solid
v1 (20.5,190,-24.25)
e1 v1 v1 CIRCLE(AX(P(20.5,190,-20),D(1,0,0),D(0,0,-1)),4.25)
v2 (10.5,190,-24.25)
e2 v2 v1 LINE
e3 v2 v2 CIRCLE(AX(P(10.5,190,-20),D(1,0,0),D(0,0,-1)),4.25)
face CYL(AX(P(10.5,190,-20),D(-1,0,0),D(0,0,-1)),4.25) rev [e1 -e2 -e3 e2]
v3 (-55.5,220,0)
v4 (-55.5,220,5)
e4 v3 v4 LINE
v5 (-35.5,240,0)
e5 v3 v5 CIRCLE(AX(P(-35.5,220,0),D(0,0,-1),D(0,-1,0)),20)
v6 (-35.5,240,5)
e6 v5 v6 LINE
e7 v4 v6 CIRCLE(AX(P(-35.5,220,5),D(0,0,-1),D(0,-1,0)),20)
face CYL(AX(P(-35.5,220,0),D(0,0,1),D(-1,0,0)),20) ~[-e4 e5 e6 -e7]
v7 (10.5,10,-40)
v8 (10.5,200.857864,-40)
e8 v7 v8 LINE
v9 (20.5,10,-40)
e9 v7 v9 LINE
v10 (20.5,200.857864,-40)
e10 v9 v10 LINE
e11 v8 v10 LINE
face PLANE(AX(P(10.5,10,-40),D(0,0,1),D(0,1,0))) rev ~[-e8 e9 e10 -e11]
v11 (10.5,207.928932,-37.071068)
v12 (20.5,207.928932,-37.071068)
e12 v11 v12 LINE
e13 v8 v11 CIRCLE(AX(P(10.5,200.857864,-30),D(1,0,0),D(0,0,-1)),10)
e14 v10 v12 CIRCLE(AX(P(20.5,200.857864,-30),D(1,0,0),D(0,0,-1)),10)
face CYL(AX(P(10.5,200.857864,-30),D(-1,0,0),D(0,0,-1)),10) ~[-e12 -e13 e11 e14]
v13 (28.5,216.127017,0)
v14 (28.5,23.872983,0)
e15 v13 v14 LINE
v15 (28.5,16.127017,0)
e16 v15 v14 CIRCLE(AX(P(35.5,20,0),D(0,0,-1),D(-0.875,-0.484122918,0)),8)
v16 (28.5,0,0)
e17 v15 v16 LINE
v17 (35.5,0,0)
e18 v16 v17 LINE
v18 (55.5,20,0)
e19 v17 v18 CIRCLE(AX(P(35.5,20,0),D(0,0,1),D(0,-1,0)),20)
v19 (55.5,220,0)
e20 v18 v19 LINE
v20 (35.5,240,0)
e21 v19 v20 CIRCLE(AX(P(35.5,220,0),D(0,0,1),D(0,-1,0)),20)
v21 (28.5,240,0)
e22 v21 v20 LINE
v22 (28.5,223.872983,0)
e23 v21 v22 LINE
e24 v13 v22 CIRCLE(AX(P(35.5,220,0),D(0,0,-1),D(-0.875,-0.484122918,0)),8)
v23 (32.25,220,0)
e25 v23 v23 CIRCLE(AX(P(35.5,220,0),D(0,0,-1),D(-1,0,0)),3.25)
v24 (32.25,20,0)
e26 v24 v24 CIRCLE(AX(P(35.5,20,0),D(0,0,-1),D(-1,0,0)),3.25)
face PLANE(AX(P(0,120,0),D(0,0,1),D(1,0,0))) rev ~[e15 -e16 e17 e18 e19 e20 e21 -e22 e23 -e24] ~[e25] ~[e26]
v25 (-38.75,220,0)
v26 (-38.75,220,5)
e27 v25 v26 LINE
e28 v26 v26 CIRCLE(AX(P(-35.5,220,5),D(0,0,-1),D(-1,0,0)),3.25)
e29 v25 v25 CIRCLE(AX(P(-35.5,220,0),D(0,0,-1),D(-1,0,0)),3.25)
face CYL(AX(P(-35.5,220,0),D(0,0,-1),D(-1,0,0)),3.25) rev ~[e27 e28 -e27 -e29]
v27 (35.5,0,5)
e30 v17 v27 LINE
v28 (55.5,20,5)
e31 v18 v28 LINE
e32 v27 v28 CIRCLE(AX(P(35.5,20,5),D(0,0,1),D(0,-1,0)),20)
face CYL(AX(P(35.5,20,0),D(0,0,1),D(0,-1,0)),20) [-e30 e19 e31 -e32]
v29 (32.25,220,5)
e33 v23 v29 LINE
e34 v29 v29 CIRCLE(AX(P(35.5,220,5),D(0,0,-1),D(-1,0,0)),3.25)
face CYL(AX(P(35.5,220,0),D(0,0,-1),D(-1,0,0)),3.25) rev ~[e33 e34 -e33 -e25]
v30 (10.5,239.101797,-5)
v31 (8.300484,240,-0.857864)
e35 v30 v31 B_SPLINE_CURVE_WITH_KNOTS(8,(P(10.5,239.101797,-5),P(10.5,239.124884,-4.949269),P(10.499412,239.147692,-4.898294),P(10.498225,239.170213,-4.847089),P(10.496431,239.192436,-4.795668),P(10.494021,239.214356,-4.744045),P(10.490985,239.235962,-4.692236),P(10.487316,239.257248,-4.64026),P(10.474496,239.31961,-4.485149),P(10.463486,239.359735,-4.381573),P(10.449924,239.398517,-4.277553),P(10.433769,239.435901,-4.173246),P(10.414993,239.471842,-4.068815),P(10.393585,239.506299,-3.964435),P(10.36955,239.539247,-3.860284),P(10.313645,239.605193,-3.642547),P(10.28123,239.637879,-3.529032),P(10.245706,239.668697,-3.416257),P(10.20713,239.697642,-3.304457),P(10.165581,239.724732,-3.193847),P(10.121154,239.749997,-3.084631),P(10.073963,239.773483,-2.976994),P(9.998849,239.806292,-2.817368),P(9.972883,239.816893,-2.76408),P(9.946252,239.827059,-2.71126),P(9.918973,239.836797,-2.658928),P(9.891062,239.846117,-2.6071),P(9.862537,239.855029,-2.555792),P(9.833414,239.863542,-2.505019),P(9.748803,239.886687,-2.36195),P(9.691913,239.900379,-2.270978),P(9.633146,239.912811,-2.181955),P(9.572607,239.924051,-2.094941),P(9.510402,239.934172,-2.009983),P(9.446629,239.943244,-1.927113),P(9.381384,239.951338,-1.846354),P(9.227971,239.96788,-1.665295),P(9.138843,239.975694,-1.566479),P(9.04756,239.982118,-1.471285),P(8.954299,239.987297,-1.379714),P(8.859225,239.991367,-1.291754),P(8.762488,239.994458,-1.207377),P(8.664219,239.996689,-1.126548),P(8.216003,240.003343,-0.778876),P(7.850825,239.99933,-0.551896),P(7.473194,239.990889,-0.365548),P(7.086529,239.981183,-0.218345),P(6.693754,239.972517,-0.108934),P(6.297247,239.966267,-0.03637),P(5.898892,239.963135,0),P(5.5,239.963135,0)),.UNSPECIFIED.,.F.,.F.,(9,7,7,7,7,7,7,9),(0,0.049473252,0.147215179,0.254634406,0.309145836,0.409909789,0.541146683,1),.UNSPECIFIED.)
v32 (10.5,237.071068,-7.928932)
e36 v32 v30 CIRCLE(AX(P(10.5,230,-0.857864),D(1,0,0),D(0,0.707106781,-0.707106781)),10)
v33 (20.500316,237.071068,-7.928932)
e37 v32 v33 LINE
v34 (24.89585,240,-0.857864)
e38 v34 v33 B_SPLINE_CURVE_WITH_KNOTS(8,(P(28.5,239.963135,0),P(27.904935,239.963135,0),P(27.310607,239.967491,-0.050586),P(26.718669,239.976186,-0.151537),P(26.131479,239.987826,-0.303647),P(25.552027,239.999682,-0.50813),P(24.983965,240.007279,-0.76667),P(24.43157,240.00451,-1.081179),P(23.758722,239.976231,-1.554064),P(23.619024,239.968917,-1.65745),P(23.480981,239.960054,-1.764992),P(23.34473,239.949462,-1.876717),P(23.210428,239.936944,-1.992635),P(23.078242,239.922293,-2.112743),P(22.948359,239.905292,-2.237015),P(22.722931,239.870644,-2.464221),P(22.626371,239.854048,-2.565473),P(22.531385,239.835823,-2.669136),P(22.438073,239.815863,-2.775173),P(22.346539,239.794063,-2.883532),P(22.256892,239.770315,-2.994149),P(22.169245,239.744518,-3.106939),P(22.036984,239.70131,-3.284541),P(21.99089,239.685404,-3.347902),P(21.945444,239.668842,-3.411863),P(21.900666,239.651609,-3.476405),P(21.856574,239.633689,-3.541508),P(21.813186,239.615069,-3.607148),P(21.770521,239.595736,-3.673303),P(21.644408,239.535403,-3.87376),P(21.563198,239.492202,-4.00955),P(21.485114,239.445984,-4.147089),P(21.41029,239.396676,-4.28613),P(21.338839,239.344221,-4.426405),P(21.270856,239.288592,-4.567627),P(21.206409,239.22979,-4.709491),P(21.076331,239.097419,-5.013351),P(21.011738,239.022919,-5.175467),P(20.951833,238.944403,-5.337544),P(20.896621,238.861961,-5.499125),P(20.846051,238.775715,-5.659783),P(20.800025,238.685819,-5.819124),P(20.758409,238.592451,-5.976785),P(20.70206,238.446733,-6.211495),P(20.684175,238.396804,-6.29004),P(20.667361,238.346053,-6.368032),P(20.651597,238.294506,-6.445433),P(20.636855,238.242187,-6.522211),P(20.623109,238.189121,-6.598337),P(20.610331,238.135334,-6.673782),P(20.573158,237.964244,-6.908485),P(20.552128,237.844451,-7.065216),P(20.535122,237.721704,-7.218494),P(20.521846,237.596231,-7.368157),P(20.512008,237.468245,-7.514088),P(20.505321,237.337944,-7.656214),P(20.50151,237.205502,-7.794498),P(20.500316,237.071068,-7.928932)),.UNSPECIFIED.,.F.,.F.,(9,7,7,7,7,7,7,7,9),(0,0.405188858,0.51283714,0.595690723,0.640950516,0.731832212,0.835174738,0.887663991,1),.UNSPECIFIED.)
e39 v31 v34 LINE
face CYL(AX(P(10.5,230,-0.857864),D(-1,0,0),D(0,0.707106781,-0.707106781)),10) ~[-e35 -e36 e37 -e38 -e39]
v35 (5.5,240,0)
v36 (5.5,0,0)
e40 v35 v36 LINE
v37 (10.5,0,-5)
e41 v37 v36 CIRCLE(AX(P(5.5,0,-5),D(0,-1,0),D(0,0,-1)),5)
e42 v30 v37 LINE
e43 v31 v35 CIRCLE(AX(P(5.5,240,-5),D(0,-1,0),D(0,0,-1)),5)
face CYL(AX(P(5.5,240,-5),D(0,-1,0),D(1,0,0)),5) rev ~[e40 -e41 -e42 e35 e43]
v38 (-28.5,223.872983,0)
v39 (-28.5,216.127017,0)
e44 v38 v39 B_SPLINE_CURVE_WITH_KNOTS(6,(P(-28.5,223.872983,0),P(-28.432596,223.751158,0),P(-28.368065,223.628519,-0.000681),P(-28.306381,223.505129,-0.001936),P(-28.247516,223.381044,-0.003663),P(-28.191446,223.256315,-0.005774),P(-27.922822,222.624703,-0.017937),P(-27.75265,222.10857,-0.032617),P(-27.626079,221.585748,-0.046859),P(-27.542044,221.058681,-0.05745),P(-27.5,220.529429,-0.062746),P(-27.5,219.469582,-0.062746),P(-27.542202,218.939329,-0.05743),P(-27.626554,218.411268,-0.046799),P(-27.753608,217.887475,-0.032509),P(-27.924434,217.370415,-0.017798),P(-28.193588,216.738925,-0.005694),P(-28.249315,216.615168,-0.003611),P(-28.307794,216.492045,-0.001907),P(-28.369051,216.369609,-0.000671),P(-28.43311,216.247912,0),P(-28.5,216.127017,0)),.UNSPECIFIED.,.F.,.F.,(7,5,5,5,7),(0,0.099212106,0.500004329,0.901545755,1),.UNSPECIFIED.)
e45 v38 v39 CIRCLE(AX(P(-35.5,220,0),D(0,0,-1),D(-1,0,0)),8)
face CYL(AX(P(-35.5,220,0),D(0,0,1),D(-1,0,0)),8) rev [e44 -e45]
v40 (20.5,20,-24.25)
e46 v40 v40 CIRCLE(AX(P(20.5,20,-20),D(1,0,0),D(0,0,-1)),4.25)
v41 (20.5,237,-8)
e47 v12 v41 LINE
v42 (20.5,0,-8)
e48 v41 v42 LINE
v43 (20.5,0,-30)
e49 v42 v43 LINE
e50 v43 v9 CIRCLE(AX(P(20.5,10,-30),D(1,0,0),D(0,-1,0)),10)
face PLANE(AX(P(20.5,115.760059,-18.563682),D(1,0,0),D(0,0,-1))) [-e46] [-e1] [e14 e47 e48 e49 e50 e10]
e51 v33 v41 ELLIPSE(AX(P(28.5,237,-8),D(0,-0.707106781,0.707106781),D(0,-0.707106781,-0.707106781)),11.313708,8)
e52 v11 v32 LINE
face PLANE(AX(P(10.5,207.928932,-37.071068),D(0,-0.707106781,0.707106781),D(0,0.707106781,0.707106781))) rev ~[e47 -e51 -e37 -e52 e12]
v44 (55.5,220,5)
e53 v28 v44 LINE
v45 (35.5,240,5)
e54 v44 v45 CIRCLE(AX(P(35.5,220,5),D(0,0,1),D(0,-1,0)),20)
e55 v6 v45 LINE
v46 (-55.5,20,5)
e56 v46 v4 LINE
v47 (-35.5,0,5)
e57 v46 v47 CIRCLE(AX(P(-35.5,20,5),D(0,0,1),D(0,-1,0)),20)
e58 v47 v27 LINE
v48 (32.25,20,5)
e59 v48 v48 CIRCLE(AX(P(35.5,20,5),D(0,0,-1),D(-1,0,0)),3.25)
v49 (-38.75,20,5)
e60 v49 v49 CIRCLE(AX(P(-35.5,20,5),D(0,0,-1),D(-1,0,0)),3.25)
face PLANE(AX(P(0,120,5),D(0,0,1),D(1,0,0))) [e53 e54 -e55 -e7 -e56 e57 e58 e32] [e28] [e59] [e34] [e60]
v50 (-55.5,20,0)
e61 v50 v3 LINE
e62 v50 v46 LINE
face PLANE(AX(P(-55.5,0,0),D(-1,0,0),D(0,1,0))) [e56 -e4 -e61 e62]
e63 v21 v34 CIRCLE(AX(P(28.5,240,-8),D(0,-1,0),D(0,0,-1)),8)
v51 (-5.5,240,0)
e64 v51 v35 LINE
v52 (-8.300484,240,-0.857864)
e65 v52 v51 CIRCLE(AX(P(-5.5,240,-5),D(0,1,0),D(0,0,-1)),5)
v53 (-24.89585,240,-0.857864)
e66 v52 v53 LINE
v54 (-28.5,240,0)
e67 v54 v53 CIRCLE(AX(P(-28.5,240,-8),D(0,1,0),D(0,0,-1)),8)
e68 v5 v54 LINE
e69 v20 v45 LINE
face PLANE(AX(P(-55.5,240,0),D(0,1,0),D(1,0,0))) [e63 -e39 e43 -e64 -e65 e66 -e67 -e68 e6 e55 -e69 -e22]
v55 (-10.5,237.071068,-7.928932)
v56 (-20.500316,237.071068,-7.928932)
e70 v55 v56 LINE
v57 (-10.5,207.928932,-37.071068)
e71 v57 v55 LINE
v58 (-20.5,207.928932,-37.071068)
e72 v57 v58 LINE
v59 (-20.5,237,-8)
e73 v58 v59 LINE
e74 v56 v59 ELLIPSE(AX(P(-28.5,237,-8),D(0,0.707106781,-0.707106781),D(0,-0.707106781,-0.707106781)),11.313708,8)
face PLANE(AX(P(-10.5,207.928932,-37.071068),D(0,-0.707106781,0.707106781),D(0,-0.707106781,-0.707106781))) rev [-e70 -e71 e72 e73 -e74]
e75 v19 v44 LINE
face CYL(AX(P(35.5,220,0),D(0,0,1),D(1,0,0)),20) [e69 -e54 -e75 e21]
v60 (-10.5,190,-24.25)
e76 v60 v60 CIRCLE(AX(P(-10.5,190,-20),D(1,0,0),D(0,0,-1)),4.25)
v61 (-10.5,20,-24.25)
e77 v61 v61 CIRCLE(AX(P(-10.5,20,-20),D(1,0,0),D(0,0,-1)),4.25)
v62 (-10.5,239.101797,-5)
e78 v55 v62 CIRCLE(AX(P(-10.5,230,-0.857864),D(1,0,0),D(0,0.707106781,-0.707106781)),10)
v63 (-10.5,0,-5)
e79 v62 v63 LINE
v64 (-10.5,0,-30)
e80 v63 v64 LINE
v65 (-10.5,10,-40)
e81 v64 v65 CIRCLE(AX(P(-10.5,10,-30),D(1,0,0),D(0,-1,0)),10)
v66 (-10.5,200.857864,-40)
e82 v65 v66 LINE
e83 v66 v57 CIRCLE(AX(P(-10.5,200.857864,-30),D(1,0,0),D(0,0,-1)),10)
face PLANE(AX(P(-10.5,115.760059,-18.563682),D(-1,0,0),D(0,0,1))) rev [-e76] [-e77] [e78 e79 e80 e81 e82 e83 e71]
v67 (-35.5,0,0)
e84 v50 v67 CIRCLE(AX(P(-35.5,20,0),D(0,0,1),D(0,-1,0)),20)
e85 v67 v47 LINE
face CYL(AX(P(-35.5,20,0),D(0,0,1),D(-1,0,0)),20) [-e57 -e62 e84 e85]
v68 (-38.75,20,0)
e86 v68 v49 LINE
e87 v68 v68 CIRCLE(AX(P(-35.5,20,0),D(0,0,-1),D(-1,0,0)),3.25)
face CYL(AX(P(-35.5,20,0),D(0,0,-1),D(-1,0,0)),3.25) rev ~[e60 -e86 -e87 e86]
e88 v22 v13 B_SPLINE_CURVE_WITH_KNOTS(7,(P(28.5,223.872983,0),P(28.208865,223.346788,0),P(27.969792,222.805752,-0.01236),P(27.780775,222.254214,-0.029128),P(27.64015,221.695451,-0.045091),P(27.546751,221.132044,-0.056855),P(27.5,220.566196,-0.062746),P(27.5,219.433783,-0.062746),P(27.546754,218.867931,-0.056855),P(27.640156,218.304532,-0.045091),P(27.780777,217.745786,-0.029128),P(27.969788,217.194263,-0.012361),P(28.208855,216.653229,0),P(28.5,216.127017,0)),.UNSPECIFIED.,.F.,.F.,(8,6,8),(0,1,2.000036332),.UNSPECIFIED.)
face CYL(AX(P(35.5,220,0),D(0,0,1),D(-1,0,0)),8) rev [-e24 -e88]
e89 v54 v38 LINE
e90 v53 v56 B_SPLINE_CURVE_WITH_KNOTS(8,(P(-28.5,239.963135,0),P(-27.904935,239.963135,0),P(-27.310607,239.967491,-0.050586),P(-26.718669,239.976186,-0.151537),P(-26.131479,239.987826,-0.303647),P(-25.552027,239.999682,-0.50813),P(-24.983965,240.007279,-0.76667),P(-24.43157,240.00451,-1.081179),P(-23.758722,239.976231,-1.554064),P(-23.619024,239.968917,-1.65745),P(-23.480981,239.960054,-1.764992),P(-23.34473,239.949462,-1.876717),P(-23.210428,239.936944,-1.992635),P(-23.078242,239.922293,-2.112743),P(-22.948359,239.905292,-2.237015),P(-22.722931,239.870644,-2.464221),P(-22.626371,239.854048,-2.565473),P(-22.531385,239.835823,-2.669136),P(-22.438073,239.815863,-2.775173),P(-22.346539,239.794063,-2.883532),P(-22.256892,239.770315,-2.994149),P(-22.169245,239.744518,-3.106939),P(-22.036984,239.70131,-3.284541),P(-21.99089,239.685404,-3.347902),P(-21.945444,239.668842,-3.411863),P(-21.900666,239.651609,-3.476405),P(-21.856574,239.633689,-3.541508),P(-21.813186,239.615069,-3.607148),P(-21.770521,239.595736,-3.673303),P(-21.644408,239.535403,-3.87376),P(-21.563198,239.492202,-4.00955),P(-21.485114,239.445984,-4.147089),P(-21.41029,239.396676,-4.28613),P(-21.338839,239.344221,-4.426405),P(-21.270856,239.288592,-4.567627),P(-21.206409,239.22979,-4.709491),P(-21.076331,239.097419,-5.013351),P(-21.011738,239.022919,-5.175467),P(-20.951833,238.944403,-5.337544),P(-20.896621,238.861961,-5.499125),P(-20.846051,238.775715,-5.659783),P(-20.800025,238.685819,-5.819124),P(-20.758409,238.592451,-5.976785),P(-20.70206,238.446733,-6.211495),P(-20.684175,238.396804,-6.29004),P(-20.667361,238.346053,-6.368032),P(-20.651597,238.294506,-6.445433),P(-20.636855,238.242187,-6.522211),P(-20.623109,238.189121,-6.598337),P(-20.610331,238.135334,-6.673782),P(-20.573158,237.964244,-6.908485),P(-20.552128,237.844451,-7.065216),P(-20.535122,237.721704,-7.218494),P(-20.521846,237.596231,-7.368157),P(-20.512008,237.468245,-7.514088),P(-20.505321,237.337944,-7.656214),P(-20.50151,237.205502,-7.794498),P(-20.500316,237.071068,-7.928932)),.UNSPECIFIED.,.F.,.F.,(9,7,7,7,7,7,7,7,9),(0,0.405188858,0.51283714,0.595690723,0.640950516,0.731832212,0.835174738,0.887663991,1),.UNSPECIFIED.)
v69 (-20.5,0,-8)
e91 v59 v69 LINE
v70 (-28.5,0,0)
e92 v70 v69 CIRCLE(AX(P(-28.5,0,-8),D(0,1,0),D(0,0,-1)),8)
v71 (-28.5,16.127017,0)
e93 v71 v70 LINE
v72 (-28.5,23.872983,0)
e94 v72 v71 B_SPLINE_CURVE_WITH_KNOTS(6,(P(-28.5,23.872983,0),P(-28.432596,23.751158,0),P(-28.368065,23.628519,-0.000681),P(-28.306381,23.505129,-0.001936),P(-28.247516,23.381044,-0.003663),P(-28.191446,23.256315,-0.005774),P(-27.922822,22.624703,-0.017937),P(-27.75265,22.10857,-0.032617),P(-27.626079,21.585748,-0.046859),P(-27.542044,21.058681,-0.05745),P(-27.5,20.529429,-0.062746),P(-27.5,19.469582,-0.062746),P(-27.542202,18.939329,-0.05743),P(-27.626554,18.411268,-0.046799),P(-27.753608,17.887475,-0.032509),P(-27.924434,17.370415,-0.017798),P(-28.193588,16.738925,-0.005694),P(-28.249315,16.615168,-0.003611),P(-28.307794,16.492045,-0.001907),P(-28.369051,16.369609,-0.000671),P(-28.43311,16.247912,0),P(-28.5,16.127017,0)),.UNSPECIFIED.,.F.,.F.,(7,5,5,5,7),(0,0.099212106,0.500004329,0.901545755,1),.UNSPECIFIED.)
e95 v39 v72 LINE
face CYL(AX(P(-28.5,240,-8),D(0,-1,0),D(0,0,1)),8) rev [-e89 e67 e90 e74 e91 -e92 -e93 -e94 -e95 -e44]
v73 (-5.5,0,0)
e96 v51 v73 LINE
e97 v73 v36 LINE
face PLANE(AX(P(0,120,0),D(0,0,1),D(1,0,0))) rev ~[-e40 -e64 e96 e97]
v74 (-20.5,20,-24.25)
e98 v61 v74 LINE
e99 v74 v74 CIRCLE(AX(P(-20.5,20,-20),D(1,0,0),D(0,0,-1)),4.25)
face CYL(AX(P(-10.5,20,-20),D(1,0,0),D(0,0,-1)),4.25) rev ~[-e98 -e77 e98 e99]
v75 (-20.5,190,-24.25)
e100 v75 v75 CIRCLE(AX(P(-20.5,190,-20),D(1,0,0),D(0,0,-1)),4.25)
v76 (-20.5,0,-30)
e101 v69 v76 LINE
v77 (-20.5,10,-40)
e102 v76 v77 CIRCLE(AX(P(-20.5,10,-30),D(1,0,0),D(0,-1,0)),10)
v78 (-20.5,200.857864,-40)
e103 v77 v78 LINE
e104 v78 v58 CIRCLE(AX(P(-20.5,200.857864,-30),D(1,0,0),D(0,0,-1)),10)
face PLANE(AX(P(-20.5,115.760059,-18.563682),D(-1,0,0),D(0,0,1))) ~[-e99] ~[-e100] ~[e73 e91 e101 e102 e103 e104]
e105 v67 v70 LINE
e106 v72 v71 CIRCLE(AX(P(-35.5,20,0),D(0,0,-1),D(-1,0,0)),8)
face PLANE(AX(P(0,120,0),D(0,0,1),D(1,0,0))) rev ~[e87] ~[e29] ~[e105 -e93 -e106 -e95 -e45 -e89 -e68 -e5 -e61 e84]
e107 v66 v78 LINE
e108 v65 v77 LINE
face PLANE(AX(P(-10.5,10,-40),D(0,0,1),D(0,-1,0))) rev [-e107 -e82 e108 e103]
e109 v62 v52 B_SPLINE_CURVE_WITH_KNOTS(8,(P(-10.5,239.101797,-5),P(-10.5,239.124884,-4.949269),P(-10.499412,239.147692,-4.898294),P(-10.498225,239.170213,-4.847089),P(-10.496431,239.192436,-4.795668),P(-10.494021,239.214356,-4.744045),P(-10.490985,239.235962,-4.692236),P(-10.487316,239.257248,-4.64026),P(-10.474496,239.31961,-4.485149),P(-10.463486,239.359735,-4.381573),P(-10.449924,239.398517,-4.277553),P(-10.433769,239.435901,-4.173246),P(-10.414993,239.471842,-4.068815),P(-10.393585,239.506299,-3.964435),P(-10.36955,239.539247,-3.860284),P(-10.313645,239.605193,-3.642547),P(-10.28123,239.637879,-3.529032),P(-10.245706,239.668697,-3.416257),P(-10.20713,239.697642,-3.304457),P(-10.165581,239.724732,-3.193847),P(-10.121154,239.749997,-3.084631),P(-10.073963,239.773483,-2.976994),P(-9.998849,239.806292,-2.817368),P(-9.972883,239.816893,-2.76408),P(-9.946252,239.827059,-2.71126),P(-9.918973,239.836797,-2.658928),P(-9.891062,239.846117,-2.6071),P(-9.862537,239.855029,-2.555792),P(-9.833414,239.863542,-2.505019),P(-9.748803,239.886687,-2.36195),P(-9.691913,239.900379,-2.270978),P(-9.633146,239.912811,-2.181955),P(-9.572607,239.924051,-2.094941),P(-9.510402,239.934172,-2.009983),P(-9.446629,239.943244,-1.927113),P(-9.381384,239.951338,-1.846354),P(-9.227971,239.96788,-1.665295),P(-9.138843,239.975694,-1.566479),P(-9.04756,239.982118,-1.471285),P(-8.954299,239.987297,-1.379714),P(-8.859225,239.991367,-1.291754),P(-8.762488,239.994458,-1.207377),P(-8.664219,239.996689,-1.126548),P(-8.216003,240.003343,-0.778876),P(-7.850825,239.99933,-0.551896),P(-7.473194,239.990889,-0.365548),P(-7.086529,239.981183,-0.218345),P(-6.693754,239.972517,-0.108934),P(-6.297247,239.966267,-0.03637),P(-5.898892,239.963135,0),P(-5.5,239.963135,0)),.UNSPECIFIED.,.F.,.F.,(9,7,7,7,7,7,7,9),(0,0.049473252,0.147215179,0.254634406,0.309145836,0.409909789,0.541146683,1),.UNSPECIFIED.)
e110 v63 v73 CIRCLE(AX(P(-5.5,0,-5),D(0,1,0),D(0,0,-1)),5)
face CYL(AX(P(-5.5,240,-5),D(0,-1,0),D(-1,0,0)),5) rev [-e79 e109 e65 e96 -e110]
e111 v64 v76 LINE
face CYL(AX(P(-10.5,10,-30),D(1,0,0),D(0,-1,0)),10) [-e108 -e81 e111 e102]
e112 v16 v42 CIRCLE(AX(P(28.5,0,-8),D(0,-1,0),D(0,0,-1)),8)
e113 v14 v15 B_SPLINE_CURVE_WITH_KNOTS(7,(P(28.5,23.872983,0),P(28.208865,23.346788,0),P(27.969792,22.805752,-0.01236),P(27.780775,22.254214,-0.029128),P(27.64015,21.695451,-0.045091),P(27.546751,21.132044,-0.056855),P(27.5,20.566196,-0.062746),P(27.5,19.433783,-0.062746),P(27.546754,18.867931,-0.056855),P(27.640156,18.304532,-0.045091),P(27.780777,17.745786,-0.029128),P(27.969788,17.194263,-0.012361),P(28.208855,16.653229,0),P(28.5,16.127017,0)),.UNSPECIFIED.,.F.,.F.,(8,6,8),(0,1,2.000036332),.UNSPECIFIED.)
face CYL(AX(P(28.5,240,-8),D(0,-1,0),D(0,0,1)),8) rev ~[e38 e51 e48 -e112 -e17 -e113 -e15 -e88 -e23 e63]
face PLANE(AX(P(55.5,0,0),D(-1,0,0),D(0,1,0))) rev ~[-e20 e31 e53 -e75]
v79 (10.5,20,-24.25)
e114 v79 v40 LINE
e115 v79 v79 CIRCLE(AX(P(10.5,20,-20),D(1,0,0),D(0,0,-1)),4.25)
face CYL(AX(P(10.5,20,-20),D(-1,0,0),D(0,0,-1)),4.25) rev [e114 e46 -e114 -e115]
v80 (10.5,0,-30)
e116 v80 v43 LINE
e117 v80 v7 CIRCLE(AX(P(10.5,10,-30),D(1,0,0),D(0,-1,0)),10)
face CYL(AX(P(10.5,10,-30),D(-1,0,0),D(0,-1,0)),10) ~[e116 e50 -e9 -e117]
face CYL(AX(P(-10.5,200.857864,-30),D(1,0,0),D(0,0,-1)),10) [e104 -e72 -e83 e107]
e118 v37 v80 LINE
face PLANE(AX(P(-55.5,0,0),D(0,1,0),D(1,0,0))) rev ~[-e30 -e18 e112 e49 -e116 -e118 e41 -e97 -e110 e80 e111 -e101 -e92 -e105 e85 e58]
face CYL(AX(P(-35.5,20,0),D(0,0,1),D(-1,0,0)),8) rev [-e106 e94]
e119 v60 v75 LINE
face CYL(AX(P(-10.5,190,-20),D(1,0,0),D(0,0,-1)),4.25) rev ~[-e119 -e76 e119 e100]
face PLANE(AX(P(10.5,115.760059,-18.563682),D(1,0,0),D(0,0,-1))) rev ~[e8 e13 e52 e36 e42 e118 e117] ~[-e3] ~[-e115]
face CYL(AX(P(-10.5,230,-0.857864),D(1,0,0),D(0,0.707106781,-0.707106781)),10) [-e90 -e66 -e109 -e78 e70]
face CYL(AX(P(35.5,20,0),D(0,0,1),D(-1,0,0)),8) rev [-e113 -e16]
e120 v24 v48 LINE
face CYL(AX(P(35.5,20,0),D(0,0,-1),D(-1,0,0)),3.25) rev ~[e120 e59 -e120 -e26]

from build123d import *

# Parameters (mm, degrees)
SKETCH1_W            = 111
SKETCH1_H            = 240
BOSS_EXTRUDE1_DEPTH  = 5
FILLET1_R            = 20
SKETCH2_R            = 4.25
BOSS_EXTRUDE2_DEPTH  = 10
FILLET2_R            = 8
FILLET3_R            = 5
FILLET2_OF_MIRROR1_R = 8
FILLET3_OF_MIRROR1_R = 5
SKETCH3_R            = 3.25
CUT_EXTRUDE1_DEPTH   = 250.560113109
SKETCH4_R            = 8
CUT_EXTRUDE2_DEPTH   = 250.560113109


with BuildPart() as part:
    # Sketch1 → Boss-Extrude1 (new body)
    with BuildSketch(Plane.XY):
        with Locations((0, 120)):
            Rectangle(SKETCH1_W, SKETCH1_H)
    extrude(amount=BOSS_EXTRUDE1_DEPTH)

    # Fillet1
    fillet1_edges = [part.edges().sort_by_distance(p)[0] for p in [
        (-55.5, 240, 2.5),
        (55.5, 240, 2.5),
        (55.5, 0, 2.5),
        (-55.5, 0, 2.5),
    ]]
    fillet(fillet1_edges, radius=FILLET1_R)

    # Sketch2 → Boss-Extrude2 (add)
    with BuildSketch(Plane(origin=(10.5, 0, 0), x_dir=(0, 0, -1), z_dir=(1, 0, 0))):
        with BuildLine():
            Line((0, 0), (30, 0))
            ThreePointArc((30, 0), (37.071067812, 2.928932188), (40, 10))
            Line((40, 10), (40, 200.857864376))
            ThreePointArc((40, 200.857864376), (39.238795325, 204.6846987), (37.071067812, 207.928932188))
            Line((37.071067812, 207.928932188), (7.928932188, 237.071067812))
            ThreePointArc((7.928932188, 237.071067812), (4.6846987, 239.238795325), (0.857864376, 240))
            Line((0.857864376, 240), (0, 240))
            Line((0, 240), (0, 0))
        make_face()
        with Locations((20, 190)):
            Circle(SKETCH2_R, mode=Mode.SUBTRACT)
        with Locations((20, 20)):
            Circle(SKETCH2_R, mode=Mode.SUBTRACT)
    boss_extrude2 = extrude(amount=BOSS_EXTRUDE2_DEPTH)

    # Fillet2
    fillet2_edges = [part.edges().sort_by_distance(p)[0] for p in [
        (20.5, 120, 0),
    ]]
    fillet(fillet2_edges, radius=FILLET2_R)

    # Fillet3
    fillet3_edges = [part.edges().sort_by_distance(p)[0] for p in [
        (10.5, 120, 0),
    ]]
    fillet(fillet3_edges, radius=FILLET3_R)

    # Mirror1: Boss-Extrude2 across plane
    add(boss_extrude2.mirror(Plane(origin=(0, 0, 0), x_dir=(0, 0, 1), z_dir=(1, 0, 0))))

    # Fillet2 of Mirror1
    fillet2_of_mirror1_edges = [part.edges().sort_by_distance(p)[0] for p in [
        (-20.5, 120, 0),
    ]]
    fillet(fillet2_of_mirror1_edges, radius=FILLET2_OF_MIRROR1_R)

    # Fillet3 of Mirror1
    fillet3_of_mirror1_edges = [part.edges().sort_by_distance(p)[0] for p in [
        (-10.5, 120, 0),
    ]]
    fillet(fillet3_of_mirror1_edges, radius=FILLET3_OF_MIRROR1_R)

    # Sketch3 → Cut-Extrude1 (cut, through all)
    with BuildSketch(Plane(origin=(0, 0, 0), x_dir=(-1, 0, 0), z_dir=(0, 0, -1))):
        with Locations((-35.5, 220)):
            Circle(SKETCH3_R)
        with Locations((-35.5, 20)):
            Circle(SKETCH3_R)
        with Locations((35.5, 20)):
            Circle(SKETCH3_R)
        with Locations((35.5, 220)):
            Circle(SKETCH3_R)
    extrude(amount=-CUT_EXTRUDE1_DEPTH, mode=Mode.SUBTRACT)

    # Sketch4 → Cut-Extrude2 (cut, through all)
    with BuildSketch(Plane(origin=(0, 0, 0), x_dir=(-1, 0, 0), z_dir=(0, 0, -1))):
        with Locations((-35.5, 220)):
            Circle(SKETCH4_R)
        with Locations((35.5, 220)):
            Circle(SKETCH4_R)
        with Locations((35.5, 20)):
            Circle(SKETCH4_R)
        with Locations((-35.5, 20)):
            Circle(SKETCH4_R)
    extrude(amount=CUT_EXTRUDE2_DEPTH, mode=Mode.SUBTRACT)


solid = part.part
